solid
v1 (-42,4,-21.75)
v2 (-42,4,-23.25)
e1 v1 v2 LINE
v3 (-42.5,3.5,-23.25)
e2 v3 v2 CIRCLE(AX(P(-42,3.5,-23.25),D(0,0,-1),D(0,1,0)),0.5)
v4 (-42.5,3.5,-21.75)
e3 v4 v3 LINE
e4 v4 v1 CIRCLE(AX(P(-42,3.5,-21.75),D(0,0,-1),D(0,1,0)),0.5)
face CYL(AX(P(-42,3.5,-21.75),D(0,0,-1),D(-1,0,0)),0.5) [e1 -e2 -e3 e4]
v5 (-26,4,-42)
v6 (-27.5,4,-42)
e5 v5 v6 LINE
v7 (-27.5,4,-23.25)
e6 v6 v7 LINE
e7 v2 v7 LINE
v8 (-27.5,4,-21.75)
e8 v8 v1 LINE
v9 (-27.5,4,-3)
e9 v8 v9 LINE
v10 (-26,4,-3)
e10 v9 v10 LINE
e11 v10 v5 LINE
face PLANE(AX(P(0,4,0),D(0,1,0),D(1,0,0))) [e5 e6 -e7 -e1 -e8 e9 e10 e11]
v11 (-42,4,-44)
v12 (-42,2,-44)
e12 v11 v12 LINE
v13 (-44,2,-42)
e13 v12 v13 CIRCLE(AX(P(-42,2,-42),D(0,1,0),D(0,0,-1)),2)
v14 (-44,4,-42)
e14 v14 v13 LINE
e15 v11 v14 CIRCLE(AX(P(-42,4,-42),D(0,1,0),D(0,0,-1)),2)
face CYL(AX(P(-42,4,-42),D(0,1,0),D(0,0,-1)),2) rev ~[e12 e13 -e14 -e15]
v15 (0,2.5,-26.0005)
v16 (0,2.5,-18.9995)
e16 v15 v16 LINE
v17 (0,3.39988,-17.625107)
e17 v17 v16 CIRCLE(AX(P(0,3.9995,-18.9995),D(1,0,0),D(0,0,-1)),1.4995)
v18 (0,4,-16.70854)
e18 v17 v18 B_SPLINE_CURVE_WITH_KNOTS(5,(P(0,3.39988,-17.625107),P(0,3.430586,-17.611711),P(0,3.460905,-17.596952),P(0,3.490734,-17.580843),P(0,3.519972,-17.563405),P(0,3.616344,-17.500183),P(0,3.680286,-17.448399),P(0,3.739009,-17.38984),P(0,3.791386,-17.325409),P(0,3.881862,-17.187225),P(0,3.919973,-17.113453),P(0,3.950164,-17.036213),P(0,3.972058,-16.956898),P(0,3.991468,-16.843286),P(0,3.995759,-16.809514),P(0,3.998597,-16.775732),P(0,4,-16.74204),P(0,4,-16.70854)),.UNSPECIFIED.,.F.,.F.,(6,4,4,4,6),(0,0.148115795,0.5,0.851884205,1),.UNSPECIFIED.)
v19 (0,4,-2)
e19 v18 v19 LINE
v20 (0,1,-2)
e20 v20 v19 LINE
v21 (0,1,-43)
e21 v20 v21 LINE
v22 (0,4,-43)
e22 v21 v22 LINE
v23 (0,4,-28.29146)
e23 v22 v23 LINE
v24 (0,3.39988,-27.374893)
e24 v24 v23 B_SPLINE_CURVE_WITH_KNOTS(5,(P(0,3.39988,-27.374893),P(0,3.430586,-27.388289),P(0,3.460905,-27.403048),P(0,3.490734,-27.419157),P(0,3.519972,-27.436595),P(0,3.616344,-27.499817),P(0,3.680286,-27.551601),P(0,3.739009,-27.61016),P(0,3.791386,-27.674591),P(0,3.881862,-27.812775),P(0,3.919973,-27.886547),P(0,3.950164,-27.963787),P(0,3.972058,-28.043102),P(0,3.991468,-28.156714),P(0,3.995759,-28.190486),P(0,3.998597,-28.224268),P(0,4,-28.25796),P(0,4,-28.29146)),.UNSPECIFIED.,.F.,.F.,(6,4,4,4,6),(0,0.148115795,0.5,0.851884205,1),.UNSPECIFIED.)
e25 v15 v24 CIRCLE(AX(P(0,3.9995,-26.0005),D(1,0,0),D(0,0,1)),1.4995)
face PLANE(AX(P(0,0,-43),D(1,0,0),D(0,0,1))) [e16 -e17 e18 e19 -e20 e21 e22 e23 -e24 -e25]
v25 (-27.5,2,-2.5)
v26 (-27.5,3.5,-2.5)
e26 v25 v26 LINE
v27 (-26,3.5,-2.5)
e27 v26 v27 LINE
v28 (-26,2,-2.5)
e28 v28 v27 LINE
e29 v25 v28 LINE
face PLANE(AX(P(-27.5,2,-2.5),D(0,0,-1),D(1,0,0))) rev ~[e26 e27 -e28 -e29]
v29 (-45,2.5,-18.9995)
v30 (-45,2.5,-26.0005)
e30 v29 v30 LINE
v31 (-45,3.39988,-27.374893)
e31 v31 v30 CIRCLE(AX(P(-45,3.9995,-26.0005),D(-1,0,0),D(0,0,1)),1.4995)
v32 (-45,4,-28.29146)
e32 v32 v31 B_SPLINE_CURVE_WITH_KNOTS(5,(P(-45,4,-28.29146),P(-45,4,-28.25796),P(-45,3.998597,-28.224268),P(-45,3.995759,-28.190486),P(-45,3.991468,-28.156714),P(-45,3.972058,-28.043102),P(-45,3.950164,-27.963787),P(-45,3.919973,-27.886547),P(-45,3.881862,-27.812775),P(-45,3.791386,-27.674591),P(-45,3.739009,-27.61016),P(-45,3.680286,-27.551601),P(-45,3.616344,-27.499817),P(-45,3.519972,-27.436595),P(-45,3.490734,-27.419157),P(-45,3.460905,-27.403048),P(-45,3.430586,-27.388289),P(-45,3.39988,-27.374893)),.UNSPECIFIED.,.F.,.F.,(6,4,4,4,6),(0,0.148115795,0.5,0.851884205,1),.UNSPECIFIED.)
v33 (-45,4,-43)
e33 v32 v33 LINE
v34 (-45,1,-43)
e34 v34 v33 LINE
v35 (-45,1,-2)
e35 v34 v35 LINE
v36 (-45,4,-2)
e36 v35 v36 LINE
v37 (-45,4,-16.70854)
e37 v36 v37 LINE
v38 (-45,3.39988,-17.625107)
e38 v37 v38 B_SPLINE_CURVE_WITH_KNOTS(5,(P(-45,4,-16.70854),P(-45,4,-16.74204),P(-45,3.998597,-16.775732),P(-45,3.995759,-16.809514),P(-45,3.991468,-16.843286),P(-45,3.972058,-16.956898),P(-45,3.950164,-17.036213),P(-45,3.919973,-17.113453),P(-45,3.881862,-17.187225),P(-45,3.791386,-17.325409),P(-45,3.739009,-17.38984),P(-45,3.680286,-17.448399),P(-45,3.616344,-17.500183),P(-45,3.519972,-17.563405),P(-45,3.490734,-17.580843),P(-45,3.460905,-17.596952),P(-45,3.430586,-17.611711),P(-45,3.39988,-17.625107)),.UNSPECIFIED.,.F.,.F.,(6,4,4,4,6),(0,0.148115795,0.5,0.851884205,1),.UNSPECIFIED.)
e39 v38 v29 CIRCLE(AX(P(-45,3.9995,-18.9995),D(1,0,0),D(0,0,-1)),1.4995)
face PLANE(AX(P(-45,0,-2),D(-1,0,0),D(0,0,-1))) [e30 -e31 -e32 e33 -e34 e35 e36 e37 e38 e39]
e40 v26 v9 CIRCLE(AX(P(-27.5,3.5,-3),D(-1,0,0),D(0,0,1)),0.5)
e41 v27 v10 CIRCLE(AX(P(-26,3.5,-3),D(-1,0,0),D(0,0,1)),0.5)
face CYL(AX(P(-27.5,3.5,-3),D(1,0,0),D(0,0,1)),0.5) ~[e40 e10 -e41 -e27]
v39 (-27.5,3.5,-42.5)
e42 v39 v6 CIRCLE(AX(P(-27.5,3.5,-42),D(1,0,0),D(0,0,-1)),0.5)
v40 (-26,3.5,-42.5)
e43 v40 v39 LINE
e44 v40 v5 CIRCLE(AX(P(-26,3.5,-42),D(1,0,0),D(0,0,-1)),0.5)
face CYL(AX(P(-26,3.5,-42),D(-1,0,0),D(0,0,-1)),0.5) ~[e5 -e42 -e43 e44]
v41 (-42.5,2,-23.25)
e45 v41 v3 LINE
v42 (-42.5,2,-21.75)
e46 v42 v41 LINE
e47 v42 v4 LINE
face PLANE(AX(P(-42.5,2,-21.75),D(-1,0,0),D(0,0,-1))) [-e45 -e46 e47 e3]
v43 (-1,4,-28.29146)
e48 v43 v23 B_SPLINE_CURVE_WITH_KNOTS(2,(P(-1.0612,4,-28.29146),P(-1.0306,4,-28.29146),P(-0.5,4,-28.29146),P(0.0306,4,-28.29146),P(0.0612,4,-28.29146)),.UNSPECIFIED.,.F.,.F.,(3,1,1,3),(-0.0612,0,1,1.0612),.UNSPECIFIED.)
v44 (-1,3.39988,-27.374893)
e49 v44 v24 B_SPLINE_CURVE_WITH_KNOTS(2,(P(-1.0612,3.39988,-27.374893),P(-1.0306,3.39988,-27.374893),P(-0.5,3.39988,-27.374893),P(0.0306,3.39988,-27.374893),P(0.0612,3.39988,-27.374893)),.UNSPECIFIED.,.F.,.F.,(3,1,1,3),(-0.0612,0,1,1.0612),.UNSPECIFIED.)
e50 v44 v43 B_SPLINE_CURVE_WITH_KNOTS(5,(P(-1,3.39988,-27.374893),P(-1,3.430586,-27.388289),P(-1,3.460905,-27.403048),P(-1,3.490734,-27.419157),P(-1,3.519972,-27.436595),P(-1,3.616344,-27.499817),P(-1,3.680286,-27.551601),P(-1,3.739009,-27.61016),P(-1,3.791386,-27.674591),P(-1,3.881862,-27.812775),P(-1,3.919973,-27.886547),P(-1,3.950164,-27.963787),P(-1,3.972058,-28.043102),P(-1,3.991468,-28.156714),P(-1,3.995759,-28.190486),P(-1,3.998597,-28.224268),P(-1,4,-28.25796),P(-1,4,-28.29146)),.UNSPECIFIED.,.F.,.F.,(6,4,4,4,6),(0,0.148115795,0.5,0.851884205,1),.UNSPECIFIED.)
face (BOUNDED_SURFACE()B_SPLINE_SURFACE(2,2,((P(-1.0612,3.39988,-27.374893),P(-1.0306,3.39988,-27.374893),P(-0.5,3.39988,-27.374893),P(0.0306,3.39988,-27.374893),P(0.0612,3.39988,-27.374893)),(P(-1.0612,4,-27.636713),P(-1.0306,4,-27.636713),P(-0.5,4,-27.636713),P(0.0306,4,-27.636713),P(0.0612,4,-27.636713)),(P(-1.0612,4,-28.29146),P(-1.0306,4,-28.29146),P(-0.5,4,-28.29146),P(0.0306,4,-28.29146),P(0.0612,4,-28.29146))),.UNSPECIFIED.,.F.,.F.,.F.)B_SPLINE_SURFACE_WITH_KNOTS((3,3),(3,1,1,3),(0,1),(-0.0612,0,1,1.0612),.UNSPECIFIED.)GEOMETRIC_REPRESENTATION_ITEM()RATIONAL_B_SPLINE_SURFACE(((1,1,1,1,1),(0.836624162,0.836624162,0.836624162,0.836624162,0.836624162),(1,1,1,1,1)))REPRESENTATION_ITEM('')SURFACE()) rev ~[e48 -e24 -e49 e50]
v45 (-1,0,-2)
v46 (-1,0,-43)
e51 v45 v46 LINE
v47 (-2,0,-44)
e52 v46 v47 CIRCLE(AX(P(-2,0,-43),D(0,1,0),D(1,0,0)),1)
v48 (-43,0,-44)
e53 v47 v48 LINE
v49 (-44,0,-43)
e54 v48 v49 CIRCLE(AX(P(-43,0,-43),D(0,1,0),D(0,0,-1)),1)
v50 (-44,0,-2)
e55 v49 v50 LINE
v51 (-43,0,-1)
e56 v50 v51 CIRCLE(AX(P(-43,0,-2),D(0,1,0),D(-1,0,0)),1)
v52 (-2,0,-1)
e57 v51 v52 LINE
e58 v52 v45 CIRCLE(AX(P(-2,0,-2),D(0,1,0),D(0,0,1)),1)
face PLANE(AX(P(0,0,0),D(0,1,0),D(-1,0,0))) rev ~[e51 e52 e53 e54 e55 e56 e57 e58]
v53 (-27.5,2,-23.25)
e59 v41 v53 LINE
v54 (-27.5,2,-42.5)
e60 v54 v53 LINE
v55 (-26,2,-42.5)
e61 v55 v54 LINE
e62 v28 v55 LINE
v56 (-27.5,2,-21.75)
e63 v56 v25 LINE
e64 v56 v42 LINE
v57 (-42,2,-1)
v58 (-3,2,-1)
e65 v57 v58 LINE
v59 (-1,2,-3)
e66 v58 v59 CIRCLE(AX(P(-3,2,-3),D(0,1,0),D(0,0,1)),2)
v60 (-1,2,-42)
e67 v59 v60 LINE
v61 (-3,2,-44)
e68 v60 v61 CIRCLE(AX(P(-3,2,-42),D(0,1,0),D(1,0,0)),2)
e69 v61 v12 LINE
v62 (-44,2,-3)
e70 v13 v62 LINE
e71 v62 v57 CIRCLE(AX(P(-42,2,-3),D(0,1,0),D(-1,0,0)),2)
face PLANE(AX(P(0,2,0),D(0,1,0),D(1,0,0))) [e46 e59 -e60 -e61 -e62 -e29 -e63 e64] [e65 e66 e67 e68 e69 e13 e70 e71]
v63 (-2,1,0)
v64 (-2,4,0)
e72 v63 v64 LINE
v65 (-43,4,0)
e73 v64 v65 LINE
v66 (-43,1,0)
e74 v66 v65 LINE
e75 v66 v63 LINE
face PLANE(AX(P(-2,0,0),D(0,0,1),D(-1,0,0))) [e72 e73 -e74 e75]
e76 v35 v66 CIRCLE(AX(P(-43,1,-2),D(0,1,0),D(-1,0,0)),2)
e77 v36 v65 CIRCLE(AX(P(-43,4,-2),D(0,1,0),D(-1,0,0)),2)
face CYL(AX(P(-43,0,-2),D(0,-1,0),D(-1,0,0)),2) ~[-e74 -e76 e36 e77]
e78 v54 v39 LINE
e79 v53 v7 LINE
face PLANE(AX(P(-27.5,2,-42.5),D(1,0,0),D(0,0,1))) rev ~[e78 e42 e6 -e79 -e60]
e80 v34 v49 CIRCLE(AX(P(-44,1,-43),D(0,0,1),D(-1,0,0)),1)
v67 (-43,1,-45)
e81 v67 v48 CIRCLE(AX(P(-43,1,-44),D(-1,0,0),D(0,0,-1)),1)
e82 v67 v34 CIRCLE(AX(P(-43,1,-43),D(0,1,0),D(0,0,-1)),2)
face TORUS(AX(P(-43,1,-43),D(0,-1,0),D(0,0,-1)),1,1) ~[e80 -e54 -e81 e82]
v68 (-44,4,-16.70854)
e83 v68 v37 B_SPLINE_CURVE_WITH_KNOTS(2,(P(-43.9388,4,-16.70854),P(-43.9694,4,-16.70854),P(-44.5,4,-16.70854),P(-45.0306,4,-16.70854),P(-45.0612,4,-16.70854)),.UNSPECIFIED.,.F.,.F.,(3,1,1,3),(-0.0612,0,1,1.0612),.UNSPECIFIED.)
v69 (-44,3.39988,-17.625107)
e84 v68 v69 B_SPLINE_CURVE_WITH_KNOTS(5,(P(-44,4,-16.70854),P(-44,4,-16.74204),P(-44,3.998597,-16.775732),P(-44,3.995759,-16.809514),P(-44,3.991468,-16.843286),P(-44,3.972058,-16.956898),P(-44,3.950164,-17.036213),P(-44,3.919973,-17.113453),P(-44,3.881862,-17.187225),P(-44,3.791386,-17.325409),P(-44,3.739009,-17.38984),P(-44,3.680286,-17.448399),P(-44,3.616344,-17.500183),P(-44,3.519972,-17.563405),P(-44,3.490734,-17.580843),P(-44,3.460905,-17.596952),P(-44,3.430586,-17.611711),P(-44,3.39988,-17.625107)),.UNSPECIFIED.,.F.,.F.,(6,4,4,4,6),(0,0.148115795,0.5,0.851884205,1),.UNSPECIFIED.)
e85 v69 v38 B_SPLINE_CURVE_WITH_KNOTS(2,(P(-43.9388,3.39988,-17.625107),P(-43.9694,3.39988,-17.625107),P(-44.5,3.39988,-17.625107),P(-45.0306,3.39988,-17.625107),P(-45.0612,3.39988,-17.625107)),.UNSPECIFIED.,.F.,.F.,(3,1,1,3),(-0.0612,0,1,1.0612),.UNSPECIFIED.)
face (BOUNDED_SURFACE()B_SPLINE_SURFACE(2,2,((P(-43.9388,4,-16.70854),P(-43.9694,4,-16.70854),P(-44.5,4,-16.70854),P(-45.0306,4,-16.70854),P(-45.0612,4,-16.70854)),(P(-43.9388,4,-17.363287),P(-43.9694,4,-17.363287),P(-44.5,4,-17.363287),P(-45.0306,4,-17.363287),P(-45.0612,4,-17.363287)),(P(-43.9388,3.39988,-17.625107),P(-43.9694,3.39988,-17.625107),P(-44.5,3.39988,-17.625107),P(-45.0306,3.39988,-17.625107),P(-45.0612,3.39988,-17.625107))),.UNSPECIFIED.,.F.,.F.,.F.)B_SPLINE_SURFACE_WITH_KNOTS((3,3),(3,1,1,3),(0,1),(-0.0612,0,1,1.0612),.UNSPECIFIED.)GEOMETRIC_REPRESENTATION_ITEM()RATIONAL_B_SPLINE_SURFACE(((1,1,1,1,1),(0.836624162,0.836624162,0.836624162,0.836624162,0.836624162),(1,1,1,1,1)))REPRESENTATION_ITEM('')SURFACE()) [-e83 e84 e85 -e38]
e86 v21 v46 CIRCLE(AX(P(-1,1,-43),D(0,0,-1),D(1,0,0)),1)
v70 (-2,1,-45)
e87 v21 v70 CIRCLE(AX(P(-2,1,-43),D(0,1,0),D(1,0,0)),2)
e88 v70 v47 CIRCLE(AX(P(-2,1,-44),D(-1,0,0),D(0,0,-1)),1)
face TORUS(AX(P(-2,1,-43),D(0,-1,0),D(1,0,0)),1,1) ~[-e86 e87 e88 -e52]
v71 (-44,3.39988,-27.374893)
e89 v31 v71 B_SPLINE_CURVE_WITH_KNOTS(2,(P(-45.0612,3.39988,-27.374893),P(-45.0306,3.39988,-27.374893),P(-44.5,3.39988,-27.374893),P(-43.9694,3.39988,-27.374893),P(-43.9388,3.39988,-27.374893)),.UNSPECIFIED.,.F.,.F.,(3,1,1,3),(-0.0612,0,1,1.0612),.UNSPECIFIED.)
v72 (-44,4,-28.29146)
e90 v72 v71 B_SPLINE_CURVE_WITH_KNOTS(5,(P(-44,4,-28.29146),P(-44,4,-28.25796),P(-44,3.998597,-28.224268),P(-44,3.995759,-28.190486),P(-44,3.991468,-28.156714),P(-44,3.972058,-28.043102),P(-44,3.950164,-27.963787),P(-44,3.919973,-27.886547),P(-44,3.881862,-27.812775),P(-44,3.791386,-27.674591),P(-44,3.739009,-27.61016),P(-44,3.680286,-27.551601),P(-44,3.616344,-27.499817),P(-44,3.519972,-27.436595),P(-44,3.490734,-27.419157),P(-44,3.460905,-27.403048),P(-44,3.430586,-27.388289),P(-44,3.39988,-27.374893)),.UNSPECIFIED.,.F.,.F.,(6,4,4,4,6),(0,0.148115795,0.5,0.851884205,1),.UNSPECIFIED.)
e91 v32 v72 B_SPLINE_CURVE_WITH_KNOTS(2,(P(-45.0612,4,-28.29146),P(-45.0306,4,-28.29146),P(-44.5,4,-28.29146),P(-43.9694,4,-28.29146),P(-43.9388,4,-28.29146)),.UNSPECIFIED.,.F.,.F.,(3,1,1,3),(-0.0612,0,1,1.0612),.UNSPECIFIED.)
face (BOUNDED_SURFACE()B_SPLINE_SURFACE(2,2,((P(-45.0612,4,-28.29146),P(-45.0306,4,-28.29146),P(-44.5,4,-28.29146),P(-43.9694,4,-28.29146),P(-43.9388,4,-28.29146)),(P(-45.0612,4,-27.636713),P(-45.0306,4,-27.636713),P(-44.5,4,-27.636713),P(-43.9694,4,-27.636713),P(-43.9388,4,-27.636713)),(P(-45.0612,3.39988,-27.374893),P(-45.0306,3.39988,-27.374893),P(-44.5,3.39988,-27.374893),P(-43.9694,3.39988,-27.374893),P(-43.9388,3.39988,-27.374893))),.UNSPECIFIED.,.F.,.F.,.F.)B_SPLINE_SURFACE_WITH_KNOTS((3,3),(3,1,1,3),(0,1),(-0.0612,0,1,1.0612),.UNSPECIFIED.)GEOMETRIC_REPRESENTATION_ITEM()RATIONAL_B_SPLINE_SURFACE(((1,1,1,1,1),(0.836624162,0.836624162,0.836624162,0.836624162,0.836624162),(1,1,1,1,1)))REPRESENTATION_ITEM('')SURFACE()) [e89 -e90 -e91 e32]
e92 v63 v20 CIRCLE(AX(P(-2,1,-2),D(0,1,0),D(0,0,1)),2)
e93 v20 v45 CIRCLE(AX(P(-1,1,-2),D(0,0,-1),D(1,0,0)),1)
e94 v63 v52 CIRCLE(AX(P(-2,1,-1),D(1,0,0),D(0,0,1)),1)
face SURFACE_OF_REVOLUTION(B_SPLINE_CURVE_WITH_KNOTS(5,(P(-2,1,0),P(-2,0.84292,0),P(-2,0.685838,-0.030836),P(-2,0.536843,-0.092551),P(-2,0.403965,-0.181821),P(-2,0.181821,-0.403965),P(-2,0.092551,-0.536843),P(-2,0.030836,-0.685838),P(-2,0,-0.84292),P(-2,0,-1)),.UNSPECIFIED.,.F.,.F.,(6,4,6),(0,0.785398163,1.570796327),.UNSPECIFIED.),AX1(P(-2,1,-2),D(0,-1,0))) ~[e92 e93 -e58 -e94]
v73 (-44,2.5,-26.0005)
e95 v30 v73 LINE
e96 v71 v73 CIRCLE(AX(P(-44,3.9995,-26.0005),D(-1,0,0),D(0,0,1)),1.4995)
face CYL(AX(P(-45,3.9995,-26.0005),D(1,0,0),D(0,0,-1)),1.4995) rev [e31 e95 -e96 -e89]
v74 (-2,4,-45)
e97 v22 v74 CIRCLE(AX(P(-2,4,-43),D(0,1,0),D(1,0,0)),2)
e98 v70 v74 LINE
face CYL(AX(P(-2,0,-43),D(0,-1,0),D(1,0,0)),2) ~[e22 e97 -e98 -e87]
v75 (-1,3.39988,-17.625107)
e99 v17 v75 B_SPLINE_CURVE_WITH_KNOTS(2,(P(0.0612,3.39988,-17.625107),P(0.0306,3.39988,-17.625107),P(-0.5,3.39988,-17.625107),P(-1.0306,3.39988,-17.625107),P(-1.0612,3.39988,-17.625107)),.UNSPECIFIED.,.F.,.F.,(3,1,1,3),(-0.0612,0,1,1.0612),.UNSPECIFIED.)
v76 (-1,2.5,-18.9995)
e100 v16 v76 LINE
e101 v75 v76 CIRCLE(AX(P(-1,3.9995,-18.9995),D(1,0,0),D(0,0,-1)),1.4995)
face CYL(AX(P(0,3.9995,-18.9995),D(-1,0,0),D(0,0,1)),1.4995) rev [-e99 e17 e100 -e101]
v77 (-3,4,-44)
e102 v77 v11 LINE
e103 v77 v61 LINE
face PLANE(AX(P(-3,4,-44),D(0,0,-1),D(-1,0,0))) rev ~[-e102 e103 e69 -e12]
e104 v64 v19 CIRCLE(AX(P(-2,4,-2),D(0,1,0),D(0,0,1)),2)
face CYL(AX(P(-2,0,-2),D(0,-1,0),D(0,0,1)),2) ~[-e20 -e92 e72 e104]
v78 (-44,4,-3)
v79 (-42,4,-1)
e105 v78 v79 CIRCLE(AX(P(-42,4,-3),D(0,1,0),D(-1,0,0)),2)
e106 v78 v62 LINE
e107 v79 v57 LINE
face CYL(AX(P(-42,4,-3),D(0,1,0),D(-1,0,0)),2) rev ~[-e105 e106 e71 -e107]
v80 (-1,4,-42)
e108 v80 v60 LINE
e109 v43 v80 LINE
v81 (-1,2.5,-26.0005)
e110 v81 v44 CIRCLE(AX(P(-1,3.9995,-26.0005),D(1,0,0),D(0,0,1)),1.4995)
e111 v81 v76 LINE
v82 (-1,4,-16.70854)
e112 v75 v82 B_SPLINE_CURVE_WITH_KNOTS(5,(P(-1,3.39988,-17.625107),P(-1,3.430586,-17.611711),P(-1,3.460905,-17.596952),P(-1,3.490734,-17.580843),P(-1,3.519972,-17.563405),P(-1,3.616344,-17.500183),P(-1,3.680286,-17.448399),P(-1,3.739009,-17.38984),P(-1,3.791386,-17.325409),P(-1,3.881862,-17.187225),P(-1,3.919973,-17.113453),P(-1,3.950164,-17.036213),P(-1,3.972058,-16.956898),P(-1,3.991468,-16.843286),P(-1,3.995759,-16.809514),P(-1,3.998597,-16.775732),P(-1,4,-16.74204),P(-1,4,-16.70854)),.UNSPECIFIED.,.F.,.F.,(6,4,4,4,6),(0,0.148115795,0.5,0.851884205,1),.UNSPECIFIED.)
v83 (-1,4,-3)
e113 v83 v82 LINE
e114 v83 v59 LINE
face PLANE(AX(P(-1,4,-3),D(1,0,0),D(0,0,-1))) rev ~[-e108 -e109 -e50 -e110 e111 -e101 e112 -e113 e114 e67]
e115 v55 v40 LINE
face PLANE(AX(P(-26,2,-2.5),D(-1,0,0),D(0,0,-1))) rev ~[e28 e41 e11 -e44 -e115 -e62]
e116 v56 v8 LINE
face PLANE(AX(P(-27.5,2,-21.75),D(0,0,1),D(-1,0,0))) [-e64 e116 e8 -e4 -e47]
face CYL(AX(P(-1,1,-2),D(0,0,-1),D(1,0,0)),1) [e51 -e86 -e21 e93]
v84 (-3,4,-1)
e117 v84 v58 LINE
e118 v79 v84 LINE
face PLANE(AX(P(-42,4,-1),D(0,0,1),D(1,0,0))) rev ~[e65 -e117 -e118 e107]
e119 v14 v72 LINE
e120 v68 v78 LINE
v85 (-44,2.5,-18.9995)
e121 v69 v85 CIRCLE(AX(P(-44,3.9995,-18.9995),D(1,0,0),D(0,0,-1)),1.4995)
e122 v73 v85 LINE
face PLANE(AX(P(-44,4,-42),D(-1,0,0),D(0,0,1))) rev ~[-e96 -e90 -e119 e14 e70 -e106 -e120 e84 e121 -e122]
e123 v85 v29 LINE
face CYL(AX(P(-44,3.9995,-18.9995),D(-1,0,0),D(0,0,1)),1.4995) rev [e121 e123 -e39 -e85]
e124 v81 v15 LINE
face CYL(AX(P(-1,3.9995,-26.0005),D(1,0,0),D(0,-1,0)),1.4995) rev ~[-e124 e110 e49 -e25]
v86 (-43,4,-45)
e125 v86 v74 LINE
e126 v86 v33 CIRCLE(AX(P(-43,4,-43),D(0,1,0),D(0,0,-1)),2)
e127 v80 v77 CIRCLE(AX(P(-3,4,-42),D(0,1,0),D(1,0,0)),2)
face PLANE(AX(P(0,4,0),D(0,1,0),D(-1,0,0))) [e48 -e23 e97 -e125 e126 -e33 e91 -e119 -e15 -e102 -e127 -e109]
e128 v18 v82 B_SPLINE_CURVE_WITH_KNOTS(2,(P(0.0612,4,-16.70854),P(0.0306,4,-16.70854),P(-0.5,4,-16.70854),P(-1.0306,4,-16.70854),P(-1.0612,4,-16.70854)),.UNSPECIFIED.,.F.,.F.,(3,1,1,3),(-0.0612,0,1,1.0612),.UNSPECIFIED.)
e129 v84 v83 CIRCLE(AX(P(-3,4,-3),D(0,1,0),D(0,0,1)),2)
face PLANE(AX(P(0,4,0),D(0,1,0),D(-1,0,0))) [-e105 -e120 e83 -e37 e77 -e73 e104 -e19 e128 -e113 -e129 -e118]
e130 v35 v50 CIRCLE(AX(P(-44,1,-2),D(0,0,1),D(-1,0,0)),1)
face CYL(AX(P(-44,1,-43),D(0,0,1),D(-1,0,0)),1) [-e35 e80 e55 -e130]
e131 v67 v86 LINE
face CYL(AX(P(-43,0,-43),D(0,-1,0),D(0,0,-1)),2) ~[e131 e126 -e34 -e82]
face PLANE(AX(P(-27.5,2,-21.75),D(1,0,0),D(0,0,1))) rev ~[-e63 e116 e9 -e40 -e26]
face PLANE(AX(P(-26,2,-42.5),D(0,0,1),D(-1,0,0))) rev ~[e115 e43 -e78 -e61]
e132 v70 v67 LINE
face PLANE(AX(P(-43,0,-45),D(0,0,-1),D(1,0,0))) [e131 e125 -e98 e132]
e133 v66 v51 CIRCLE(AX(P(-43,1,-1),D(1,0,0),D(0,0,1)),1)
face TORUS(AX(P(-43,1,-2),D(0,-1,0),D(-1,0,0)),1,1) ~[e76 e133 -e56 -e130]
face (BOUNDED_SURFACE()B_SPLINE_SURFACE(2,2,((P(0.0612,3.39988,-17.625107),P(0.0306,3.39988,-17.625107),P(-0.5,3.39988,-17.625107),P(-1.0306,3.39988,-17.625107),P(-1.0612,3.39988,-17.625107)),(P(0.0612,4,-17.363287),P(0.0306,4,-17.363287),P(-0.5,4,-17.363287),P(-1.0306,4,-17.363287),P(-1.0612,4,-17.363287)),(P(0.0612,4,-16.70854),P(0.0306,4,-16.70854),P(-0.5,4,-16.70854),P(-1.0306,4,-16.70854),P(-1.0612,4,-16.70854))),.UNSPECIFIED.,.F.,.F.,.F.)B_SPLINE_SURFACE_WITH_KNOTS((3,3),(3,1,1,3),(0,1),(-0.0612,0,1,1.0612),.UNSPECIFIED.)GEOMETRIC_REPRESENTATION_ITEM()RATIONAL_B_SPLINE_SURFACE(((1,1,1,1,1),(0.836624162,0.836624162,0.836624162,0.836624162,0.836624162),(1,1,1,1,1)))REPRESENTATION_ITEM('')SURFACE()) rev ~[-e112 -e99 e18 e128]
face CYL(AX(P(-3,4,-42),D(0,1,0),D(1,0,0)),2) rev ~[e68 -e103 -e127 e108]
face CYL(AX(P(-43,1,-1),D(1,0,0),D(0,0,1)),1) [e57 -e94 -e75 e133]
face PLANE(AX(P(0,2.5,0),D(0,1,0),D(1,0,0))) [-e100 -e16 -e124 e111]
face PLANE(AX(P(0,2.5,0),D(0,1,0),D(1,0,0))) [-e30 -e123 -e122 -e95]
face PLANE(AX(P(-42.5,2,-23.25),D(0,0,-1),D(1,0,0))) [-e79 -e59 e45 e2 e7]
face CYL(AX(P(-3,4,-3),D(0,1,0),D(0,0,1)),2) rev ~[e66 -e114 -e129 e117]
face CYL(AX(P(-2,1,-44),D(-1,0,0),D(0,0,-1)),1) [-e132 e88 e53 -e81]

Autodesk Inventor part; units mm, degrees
ref_plane "YZ Plane" through (0, 0, 0) normal (1, 0, 0) x (0, 1, 0)
ref_plane "XZ Plane" through (0, 0, 0) normal (0, 1, 0) x (-1, 0, 0)
ref_plane "XY Plane" through (0, 0, 0) normal (0, 0, 1) x (1, 0, 0)
sketch "底面スケッチ" plane through (0, 0, 0) normal (0, 1, 0) x (-1, 0, 0)
  line L0 (2, 0) -> (43, 0)
  line L1 (45, -2) -> (45, -43)
  line L2 (43, -45) -> (2, -45)
  line L3 (0, -43) -> (0, -2)
  arc A0 (45, -2) -> (43, 0) centre (43, -2) ccw
  arc A1 (43, -45) -> (45, -43) centre (43, -43) ccw
  arc A2 (0, -43) -> (2, -45) centre (2, -43) ccw
  arc A3 (2, 0) -> (0, -2) centre (2, -2) ccw
  point P0 (0, 0)
  point P1 (45, -45)
  point P2 (45, 0)
  point P3 (0, -45)
  dimension "d0" = 45
  dimension "d1" = 45
  dimension "d4" = 2
extrude "押し出し1" add sketch "底面スケッチ" along normal blind 4
sketch "スケッチ2" plane through (0, 4, 0) normal (0, 1, 0) x (1, 0, 0)
  line L0 (-42, 1) -> (-3, 1)
  line L1 (-1, 3) -> (-1, 42)
  line L2 (-3, 44) -> (-42, 44)
  line L3 (-44, 42) -> (-44, 3)
  line L4 (-2, 45) -> (-43, 45) projected
  line L5 (-43, 0) -> (-2, 0) projected
  line L6 (-45, 43) -> (-45, 2) projected
  line L7 (0, 2) -> (0, 43) projected
  arc A0 (-44, 3) -> (-42, 1) centre (-42, 3) ccw
  arc A1 (-3, 1) -> (-1, 3) centre (-3, 3) ccw
  arc A2 (-42, 44) -> (-44, 42) centre (-42, 42) ccw
  arc A3 (-1, 42) -> (-3, 44) centre (-3, 42) ccw
  point P0 (0, 0)
  dimension "d5" = 1
  dimension "d6" = 1
  dimension "d7" = 1
  dimension "d8" = 1
  dimension "d9" = 2
extrude "押し出し2" cut sketch "スケッチ2" against normal blind 2
sketch "スケッチ3" plane through (0, 2, 0) normal (0, 1, 0) x (1, 0, 0)
  line L0 (-3, 1) -> (-42, 1) projected
  line L1 (-42, 44) -> (-3, 44) projected
  line L2 (-44, 3) -> (-44, 42) projected
  line L3 (-27.5, 2.5) -> (-26, 2.5)
  line L4 (-26, 2.5) -> (-26, 42.5)
  line L5 (-26, 42.5) -> (-27.5, 42.5)
  line L6 (-27.5, 42.5) -> (-27.5, 2.5)
  line L7 (-1, 42) -> (-1, 3) projected
  line L8 (-27.5, 21.75) -> (-42.5, 21.75)
  line L9 (-42.5, 21.75) -> (-42.5, 23.25)
  line L10 (-42.5, 23.25) -> (-27.5, 23.25)
  line L11 (-27.5, 23.25) -> (-27.5, 21.75)
  point P0 (0, 0)
  point P1 (-26, 22.5)
  point P2 (-1, 22.5)
  point P3 (-42.5, 22.5)
  point P4 (-1, 22.5)
  dimension "d19" = 1.5
  dimension "d20" = 40
  dimension "d21" = 16.5
  dimension "d22" = 1.5
  dimension "d23" = 15
extrude "押し出し3" add sketch "スケッチ3" along normal blind 2
fillet "フィレット1" radius 0.5 3 edges at (-26.75, 4, -42.5) (-26.75, 4, -2.5) (-42.5, 4, -22.5)
fillet "フィレット2" radius 1 8 edges at (-44.4142, 0, -44.4142) (-45, 0, -22.5) (-44.4142, 0, -0.5858) (-22.5, 0, 0) (-0.5858, 0, -0.5858) (0, 0, -22.5) (-0.5858, 0, -44.4142) (-22.5, 0, -45)
sketch "スケッチ4" plane through (0, 4, 0) normal (0, 1, 0) x (1, 0, 0)
  line L0 (-1, 42) -> (-1, 3) projected
  line L1 (-1, 27.5) -> (0, 27.5)
  line L2 (0, 27.5) -> (0, 17.5)
  line L3 (0, 17.5) -> (-1, 17.5)
  line L4 (-1, 17.5) -> (-1, 27.5)
  line L5 (0, 2) -> (0, 43) projected
  line L6 (-45, 2) -> (-45, 43) projected
  line L7 (-44, 43) -> (-44, 2) projected
  line L8 (-45, 27.5) -> (-44, 27.5)
  line L9 (-44, 27.5) -> (-44, 17.5)
  line L10 (-44, 17.5) -> (-45, 17.5)
  line L11 (-45, 17.5) -> (-45, 27.5)
  point P0 (0, 0)
  point P1 (0, 22.5)
  point P2 (0, 22.5)
  point P3 (-45, 22.5)
  point P4 (-44, 22.5)
  dimension "d24" = 10
  dimension "d25" = 10
extrude "押し出し4" cut sketch "スケッチ4" against normal blind 1.5
fillet "フィレット3" radius 1.5 4 edges at (-44.5, 2.5, -27.5) (-44.5, 2.5, -17.5) (-0.5, 2.5, -27.5) (-0.5, 2.5, -17.5)
fillet "フィレット4" radius 1 8 edges at (-0.5, 3.9995, -27.5) (-0.5, 4, -27.5) (-0.5, 3.9995, -17.5) (-0.5, 4, -17.5) (-44.5, 4, -27.5) (-44.5, 3.9995, -27.5) (-44.5, 4, -17.5) (-44.5, 3.9995, -17.5)
equation "\"d1\" = d0"
equation "\"d6\" = d5"
equation "\"d7\" = d5"
equation "\"d8\" = d5"
equation "\"d25\" = d24"
properties part number "box-2_3D プリント"
